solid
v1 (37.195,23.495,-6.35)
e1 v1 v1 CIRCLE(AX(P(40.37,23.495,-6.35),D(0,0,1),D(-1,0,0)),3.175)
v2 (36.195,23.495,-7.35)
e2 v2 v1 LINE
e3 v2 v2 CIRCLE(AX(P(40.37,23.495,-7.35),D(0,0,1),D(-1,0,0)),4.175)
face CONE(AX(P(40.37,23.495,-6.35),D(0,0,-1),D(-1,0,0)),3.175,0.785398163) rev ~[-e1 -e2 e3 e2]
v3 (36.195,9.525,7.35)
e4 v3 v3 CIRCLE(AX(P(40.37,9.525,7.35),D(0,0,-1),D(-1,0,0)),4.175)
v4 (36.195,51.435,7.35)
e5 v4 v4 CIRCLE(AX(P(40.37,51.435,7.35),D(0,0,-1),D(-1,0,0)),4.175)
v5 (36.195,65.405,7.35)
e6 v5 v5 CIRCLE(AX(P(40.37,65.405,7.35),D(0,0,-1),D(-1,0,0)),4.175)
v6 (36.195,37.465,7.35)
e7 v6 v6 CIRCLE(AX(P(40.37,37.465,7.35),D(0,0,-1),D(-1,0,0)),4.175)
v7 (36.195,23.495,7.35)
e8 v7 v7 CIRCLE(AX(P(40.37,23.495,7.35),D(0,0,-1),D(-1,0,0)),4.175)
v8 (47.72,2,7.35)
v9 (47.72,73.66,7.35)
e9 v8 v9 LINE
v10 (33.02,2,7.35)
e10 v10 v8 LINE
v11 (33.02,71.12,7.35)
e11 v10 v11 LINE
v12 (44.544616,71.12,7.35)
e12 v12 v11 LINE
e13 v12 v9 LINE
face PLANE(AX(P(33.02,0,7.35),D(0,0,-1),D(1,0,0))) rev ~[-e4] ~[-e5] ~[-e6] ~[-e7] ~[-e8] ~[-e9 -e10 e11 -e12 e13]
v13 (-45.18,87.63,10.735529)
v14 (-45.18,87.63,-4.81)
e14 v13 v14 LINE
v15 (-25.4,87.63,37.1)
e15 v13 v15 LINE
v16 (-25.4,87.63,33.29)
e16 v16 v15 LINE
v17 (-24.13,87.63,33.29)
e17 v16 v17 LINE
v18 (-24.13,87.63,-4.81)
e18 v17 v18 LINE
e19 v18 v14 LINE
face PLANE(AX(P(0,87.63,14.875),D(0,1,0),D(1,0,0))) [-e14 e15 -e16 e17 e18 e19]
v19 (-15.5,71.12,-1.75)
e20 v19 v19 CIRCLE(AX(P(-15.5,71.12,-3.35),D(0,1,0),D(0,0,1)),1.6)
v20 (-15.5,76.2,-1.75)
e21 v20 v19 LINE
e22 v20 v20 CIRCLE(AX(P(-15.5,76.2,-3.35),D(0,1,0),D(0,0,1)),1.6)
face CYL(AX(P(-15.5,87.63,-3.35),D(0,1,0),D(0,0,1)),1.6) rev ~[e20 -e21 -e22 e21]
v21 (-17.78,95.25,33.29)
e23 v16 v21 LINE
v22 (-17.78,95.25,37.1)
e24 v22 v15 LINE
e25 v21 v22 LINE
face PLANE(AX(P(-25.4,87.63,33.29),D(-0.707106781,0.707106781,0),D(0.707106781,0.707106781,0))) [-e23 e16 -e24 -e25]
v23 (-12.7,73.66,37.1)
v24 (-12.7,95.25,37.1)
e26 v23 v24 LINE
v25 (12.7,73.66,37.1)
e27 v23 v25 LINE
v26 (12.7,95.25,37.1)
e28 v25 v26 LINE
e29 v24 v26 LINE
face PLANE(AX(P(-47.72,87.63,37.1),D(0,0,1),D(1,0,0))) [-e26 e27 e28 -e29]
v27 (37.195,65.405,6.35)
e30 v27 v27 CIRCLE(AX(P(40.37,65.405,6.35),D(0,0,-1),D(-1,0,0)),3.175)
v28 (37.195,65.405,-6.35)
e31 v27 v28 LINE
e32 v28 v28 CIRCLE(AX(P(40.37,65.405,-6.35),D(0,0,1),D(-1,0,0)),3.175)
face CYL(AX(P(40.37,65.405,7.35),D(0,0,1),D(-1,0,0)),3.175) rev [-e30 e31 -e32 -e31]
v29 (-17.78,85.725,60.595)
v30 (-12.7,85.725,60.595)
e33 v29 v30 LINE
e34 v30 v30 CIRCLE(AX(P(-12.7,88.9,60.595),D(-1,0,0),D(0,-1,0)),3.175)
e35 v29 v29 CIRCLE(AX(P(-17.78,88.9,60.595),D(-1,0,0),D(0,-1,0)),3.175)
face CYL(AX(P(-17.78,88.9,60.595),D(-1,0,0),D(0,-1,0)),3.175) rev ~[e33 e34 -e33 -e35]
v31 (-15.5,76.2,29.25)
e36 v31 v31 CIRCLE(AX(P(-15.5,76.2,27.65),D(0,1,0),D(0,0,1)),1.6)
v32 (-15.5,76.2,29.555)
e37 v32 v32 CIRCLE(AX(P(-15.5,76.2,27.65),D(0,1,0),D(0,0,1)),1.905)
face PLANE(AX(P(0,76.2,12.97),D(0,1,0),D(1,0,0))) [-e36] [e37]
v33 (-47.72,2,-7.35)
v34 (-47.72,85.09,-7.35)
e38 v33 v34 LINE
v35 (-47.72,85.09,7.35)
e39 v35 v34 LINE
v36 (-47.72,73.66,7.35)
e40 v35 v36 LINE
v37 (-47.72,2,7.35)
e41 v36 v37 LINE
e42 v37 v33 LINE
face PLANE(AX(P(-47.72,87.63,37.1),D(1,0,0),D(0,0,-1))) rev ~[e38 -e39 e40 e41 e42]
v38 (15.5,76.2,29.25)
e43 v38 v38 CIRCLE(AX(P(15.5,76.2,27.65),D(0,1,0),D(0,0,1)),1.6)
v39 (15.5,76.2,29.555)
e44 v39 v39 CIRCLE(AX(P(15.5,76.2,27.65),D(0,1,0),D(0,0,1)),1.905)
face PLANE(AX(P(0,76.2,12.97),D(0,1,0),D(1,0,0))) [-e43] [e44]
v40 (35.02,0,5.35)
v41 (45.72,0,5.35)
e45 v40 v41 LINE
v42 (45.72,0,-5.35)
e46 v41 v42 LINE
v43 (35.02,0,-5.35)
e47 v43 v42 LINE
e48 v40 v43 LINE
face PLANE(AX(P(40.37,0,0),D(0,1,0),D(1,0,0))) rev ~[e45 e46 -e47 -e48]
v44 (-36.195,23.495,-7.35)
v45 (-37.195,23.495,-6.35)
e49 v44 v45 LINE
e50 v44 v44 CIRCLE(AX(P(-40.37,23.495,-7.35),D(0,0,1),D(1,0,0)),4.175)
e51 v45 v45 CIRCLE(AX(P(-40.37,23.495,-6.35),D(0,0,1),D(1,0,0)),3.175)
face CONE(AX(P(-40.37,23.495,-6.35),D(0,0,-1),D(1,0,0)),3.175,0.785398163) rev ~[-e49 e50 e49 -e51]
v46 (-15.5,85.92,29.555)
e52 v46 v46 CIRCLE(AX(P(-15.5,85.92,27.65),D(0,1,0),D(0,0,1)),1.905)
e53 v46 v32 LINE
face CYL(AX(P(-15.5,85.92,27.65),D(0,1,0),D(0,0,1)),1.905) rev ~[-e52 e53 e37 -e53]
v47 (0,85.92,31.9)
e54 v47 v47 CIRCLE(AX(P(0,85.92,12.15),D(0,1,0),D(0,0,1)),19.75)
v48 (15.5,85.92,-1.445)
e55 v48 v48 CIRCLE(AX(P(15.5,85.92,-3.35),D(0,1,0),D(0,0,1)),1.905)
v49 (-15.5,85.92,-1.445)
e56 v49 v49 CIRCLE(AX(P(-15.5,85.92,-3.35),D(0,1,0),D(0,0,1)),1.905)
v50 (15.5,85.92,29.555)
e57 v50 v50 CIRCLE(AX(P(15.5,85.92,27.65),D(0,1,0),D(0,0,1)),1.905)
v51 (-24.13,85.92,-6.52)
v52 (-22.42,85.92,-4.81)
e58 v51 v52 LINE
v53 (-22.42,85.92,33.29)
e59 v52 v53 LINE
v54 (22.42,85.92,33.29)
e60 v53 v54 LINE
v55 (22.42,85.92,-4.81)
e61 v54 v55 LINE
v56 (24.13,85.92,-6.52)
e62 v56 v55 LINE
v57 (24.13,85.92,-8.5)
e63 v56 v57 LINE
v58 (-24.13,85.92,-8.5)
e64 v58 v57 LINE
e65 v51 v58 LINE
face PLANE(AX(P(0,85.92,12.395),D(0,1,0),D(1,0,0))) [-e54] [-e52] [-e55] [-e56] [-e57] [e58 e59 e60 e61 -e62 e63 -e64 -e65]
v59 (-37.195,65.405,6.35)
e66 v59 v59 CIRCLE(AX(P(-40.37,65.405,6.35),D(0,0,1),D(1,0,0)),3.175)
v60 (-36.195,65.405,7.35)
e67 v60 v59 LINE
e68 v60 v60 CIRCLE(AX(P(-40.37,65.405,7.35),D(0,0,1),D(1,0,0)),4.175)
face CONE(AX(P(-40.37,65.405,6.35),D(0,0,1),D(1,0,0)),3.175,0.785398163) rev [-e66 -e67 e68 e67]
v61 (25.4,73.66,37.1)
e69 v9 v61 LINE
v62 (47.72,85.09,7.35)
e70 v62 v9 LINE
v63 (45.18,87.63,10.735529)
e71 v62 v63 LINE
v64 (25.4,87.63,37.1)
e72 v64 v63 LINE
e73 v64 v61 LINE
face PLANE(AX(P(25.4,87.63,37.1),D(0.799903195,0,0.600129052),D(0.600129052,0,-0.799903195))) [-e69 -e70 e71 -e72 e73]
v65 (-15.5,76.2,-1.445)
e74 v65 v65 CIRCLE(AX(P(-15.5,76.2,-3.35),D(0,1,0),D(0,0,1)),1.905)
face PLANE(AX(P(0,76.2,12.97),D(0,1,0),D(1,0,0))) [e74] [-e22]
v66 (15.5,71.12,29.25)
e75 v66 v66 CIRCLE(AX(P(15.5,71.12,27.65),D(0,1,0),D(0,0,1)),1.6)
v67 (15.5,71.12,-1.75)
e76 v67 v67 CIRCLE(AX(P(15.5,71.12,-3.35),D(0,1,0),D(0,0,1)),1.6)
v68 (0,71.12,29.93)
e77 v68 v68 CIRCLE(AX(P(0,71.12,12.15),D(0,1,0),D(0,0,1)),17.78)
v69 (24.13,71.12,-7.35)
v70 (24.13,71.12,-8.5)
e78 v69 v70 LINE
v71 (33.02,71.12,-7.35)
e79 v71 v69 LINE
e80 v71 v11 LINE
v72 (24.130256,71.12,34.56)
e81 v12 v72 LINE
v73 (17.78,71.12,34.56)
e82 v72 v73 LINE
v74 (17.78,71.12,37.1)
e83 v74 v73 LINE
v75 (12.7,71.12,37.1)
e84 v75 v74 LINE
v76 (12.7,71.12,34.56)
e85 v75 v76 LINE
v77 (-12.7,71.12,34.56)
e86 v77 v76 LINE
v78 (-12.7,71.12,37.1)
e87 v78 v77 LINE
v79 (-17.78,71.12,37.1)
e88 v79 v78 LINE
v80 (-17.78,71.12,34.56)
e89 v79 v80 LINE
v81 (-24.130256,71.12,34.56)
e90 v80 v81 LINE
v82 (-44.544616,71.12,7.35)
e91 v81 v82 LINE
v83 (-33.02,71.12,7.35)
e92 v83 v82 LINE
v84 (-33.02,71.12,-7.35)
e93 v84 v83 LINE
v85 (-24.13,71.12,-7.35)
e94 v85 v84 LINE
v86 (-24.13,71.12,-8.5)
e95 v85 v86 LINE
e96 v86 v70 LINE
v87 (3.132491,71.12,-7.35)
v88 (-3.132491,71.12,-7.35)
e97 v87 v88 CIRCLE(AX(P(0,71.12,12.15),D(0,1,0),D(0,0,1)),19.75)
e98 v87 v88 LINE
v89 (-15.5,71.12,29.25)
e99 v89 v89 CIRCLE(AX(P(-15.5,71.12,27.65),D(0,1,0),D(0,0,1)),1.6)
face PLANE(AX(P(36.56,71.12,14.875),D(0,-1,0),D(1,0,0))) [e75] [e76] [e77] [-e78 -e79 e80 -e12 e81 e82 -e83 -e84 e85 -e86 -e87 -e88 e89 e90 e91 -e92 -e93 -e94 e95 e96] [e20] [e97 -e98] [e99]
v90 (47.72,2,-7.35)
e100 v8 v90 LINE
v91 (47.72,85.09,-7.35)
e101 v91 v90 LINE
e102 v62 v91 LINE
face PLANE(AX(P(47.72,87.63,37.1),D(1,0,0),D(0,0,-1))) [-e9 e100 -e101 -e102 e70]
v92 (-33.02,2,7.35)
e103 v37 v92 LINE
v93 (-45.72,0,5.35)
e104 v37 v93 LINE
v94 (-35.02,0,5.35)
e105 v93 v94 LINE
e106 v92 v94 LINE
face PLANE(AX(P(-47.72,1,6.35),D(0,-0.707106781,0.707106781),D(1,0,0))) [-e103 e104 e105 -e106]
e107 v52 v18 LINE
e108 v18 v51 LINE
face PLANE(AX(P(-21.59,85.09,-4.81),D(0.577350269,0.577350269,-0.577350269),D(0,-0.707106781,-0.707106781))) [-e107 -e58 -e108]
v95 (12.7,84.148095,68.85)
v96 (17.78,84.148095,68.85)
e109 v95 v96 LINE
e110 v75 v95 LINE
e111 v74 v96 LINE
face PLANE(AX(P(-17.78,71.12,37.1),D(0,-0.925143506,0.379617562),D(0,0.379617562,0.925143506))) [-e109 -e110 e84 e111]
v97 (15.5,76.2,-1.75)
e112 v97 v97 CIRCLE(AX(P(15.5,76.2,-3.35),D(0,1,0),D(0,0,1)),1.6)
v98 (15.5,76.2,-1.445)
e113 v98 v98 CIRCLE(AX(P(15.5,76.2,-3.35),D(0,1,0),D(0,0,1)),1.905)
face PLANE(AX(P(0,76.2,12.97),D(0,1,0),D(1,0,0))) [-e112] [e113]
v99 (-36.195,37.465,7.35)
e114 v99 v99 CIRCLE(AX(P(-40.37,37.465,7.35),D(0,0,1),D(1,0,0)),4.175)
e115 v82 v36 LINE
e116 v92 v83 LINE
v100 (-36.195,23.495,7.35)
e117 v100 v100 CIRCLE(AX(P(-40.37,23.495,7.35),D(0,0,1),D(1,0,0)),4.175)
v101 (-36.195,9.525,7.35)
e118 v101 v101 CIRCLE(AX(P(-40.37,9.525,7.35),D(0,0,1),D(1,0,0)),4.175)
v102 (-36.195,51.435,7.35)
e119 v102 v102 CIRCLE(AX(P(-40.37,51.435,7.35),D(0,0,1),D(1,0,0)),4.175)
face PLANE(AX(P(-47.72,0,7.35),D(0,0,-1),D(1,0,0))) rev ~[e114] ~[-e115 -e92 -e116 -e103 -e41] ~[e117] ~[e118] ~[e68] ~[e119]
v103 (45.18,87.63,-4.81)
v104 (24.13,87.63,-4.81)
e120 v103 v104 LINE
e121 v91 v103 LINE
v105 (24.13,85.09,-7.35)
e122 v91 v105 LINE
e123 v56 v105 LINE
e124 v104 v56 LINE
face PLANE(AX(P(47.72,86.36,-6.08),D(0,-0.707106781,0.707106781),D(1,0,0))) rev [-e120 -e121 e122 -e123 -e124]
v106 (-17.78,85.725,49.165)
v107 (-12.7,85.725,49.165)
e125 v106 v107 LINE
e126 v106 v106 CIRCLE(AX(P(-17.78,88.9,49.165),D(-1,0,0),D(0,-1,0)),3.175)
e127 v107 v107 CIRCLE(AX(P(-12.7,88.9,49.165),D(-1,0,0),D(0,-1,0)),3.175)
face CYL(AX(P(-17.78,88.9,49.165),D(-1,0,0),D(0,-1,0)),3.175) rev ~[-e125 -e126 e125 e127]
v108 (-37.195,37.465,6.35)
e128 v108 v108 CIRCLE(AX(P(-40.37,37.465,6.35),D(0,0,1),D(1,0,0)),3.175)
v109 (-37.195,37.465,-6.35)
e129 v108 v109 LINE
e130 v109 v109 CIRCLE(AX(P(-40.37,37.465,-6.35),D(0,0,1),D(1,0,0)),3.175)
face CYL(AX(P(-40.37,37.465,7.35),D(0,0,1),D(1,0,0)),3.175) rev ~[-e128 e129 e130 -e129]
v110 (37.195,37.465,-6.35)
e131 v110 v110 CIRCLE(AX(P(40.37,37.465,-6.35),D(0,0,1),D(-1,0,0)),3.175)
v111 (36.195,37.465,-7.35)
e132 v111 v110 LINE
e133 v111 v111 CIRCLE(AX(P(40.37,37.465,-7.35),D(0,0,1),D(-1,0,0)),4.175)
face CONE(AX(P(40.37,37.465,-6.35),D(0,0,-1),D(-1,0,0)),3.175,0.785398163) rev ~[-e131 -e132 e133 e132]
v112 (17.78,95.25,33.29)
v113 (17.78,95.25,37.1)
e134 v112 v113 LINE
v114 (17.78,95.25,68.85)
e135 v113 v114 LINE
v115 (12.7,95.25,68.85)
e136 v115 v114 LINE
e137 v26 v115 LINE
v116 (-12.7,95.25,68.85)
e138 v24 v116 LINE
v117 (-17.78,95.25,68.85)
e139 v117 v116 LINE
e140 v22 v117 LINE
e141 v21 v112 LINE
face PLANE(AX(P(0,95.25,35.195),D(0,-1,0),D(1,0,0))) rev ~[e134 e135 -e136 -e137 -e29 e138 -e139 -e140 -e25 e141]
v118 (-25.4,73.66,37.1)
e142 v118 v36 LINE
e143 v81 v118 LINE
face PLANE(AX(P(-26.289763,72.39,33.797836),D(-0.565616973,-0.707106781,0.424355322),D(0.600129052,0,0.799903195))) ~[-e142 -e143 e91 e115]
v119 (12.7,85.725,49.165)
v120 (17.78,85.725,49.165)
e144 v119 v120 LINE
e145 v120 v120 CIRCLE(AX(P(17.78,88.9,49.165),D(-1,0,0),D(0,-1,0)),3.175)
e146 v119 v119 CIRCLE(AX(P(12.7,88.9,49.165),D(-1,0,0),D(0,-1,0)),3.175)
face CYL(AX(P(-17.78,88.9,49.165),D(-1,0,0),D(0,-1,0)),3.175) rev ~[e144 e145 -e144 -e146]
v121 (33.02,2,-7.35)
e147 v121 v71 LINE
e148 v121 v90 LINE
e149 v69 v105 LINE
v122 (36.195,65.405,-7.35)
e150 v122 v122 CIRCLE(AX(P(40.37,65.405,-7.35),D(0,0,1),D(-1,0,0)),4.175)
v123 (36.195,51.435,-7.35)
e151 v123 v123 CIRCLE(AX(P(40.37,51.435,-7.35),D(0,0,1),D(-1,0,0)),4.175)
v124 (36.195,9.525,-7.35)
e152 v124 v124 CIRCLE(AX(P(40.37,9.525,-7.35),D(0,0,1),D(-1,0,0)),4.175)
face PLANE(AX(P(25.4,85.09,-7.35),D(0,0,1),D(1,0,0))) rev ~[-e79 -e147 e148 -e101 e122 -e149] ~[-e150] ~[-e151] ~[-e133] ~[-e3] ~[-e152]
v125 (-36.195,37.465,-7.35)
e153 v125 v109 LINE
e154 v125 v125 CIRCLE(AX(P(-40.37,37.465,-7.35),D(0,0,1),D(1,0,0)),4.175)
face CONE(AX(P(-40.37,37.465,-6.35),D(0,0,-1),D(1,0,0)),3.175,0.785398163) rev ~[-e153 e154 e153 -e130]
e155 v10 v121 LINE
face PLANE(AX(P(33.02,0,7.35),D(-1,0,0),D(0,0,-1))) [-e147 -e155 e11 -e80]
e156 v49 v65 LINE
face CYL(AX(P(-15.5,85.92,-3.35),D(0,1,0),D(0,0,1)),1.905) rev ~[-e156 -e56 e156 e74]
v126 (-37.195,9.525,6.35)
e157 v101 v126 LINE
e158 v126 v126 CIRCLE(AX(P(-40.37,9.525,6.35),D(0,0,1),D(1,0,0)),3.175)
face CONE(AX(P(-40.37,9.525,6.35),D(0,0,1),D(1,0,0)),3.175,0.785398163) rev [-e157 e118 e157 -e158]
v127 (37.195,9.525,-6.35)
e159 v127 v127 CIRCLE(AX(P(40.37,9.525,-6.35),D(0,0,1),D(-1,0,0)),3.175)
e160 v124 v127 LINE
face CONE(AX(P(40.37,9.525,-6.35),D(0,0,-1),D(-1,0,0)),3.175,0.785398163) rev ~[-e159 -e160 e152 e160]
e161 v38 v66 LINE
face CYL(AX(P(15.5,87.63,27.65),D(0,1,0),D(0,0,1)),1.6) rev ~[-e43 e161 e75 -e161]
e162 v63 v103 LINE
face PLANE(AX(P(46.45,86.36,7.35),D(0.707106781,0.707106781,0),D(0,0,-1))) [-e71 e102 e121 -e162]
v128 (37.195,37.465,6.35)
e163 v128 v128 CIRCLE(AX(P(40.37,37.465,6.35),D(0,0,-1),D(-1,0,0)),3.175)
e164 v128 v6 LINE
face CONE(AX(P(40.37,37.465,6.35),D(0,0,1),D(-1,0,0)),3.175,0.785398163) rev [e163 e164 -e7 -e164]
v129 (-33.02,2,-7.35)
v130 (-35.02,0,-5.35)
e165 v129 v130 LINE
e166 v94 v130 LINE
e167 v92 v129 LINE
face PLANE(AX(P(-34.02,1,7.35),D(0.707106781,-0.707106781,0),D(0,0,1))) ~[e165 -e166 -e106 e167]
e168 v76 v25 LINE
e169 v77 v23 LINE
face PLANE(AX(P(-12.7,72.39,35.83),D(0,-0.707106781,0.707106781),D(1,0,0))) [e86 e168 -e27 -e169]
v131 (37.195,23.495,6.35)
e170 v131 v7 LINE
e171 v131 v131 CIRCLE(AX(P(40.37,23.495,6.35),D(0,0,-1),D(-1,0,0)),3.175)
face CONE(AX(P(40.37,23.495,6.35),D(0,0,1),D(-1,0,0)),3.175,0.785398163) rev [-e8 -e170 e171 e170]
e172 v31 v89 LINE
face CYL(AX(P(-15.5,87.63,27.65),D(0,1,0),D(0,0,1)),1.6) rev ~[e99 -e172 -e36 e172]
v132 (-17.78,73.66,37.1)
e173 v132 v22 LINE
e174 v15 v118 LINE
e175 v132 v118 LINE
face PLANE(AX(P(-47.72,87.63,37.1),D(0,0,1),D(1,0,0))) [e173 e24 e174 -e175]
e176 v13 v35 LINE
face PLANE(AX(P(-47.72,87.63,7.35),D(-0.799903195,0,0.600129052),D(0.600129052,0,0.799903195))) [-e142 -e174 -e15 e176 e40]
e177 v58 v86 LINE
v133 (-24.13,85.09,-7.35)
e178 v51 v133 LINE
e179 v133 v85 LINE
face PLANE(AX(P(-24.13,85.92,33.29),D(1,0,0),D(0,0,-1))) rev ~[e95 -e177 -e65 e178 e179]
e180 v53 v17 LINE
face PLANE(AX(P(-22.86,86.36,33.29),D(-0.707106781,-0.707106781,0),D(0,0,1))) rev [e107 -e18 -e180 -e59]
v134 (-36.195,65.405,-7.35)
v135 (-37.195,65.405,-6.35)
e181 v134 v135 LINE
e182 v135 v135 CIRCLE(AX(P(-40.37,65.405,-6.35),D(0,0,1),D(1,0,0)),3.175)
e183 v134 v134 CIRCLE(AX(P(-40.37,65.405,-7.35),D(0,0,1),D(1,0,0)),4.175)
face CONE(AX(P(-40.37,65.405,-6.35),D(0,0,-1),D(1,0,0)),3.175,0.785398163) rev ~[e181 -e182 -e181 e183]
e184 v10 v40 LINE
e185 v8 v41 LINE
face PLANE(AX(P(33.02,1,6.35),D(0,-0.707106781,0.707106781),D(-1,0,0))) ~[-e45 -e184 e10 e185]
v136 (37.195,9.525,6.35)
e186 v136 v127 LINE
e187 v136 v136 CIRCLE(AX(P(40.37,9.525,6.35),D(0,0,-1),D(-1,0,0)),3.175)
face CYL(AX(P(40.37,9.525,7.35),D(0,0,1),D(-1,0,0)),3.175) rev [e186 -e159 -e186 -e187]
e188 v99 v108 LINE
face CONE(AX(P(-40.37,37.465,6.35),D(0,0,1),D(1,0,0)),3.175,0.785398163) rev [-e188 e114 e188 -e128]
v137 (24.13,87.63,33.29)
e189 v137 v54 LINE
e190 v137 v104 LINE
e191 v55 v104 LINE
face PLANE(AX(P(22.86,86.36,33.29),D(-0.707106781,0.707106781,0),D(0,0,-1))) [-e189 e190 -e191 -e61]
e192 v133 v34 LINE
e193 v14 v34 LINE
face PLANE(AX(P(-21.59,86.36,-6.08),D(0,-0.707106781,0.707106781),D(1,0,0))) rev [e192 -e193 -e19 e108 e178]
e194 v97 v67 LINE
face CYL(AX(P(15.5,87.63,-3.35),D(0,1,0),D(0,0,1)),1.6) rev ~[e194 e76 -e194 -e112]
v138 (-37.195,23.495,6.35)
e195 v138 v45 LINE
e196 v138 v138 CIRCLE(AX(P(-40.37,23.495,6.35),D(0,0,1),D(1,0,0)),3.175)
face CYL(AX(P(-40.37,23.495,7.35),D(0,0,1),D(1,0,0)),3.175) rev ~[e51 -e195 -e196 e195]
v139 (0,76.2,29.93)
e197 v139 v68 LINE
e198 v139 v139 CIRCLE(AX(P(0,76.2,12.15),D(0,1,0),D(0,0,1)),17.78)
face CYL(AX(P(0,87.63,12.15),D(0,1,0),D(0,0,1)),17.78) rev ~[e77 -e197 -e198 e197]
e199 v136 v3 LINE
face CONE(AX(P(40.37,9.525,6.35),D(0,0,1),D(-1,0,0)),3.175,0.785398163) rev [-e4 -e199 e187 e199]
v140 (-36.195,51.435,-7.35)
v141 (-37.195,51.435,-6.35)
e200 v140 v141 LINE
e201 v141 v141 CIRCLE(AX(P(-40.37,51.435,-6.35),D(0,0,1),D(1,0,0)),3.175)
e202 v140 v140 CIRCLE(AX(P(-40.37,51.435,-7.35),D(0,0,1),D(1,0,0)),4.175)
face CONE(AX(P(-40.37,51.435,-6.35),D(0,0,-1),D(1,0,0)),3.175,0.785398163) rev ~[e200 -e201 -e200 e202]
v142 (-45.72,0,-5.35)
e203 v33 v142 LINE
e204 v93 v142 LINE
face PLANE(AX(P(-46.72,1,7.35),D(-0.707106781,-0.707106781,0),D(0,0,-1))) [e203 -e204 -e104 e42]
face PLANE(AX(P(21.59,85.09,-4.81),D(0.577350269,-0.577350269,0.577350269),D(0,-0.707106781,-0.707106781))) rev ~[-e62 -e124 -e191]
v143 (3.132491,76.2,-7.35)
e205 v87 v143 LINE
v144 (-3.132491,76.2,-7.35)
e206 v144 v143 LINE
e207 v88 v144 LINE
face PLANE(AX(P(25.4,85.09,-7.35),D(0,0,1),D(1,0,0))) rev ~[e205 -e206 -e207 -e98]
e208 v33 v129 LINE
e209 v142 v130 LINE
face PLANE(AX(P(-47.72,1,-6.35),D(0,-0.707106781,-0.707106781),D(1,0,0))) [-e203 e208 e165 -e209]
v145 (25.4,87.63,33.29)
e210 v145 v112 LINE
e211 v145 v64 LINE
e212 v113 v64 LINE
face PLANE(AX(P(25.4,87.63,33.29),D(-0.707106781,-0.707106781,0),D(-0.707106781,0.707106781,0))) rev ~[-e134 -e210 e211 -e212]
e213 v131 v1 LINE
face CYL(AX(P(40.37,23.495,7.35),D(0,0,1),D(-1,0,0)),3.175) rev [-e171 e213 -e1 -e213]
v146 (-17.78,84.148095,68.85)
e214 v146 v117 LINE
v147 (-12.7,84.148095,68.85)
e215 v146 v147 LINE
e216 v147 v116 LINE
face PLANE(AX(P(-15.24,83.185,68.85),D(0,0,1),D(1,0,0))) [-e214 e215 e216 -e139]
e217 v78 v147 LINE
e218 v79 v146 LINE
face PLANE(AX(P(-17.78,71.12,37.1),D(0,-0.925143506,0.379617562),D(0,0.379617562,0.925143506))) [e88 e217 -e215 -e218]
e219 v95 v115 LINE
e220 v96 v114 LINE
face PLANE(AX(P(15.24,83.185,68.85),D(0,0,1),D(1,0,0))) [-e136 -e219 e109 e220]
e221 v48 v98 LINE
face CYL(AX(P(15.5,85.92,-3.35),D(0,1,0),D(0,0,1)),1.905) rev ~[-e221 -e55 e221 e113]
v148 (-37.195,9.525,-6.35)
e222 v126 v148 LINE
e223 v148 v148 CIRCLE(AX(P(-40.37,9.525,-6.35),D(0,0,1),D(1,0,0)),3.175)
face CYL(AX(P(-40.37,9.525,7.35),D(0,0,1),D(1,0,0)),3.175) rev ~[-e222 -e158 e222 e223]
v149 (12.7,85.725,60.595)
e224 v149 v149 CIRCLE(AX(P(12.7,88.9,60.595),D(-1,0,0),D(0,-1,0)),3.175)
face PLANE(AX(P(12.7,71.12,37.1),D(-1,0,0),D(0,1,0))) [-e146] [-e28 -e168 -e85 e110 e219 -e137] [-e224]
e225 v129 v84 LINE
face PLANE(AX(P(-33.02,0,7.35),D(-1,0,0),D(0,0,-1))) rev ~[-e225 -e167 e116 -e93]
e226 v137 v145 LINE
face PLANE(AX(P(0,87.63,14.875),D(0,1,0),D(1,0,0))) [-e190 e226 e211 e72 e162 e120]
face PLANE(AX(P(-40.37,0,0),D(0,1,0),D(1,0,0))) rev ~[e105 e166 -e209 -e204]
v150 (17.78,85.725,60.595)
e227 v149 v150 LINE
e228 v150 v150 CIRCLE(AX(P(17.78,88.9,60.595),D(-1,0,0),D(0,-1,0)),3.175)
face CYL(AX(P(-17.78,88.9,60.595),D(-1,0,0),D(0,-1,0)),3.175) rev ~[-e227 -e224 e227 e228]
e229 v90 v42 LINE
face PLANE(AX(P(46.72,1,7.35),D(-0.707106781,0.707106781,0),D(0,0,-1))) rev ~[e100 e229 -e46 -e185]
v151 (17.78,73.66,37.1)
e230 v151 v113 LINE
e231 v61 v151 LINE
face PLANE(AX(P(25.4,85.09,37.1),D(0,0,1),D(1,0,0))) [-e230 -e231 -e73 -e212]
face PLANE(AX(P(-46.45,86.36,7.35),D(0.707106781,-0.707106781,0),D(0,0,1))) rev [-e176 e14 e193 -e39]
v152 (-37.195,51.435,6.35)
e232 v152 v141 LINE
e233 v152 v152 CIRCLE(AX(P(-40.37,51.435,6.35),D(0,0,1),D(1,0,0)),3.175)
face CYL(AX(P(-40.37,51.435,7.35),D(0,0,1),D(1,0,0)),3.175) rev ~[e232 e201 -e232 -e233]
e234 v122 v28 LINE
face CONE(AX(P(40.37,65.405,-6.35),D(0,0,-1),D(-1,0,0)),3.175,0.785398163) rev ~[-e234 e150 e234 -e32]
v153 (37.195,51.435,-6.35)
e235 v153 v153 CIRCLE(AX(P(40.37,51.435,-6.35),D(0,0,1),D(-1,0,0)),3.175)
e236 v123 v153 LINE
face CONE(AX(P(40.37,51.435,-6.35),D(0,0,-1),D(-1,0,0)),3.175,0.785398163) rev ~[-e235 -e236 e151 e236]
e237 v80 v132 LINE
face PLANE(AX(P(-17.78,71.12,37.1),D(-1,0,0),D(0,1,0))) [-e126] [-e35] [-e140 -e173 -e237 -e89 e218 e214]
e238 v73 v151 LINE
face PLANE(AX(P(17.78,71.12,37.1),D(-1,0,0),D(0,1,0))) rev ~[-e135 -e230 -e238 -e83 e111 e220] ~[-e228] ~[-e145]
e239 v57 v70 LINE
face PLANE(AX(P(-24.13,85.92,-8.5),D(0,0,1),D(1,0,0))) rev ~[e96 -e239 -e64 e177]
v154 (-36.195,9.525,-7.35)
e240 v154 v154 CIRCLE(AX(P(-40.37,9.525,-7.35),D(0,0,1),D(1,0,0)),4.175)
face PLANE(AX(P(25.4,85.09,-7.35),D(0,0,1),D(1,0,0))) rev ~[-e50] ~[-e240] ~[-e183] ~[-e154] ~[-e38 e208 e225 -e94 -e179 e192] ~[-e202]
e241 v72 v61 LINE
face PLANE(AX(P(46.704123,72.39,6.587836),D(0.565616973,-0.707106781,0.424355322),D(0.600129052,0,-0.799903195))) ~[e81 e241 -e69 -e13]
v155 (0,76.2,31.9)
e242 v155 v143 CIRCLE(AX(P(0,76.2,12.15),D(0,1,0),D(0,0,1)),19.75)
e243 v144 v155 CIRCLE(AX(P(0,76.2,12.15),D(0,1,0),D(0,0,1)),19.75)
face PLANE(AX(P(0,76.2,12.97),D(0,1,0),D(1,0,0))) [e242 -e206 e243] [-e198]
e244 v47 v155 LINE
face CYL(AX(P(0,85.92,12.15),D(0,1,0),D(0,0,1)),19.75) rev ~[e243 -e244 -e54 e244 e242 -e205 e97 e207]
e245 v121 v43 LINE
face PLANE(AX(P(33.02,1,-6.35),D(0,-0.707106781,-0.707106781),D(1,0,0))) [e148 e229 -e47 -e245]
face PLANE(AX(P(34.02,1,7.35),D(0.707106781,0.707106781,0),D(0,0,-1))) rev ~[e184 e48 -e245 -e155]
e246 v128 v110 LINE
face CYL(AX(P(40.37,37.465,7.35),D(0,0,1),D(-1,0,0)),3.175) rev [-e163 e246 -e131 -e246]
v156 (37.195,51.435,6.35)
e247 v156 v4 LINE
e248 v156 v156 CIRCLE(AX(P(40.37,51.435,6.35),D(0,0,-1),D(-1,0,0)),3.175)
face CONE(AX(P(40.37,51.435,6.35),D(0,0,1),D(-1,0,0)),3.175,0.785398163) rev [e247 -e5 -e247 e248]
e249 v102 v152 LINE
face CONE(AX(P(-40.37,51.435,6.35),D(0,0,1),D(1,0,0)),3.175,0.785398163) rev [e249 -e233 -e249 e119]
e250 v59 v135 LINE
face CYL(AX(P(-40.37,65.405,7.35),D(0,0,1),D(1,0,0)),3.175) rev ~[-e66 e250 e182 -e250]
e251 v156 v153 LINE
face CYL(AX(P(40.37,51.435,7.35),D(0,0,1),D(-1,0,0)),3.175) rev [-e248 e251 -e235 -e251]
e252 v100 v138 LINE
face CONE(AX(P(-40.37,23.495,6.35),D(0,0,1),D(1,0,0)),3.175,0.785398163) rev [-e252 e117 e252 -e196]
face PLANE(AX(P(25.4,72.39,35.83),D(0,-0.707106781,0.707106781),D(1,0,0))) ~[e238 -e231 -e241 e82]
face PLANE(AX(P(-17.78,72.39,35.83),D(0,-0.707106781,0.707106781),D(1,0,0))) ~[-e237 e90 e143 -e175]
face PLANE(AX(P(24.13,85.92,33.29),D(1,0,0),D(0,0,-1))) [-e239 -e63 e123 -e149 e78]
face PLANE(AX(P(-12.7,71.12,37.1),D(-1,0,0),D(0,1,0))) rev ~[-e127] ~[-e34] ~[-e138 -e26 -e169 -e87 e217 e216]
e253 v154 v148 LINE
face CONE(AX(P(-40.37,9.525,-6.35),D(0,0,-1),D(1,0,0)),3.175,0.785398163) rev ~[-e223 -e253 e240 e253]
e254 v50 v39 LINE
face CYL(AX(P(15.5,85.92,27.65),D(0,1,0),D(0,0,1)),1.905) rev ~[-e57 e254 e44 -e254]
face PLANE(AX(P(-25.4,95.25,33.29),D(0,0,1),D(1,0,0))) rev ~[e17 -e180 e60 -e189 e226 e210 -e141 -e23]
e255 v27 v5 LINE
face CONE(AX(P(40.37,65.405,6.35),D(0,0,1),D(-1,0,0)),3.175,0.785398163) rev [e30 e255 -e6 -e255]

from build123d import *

# Parameters (mm, degrees)
SKETCH1_W                      = 14.7
SKETCH1_H                      = 14.7
BOSS_EXTRUDE1_DEPTH            = 87.63
BOSS_EXTRUDE1_2_DEPTH          = 87.63
SKETCH2_W                      = 95.44
SKETCH2_H                      = 44.45
BOSS_EXTRUDE2_DEPTH            = 2.54
CHAMFER2_SIZE                  = 2
SKETCH12_W                     = 50.8
SKETCH12_H                     = 44.45
BOSS_EXTRUDE5_DEPTH            = 13.97
SKETCH3_R                      = 17.78
SKETCH3_R_2                    = 1.6
CUT_EXTRUDE1_DEPTH             = 107.454804025
BOSS_EXTRUDE3_DEPTH            = 5.08
BOSS_EXTRUDE3_DEPTH_BACK       = 10.16
SKETCH4_W                      = 50.8
SKETCH4_H                      = 3.81
SKETCH5_W                      = 5.08
SKETCH5_H                      = 24.13
BOSS_EXTRUDE4_DEPTH            = 31.75
SKETCH6_R                      = 3.175
TRAYSUPPORTMOUNTINGHOLES_DEPTH = 135.547891102
SKETCH11_R                     = 3.175
CUT_EXTRUDE5_DEPTH             = 124.012238822
CHAMFER4_SIZE                  = 1
CUT_EXTRUDE6_START             = -11.43
SKETCH13_W                     = 43.18
SKETCH13_H                     = 40.64
CUT_EXTRUDE6_DEPTH             = 11.43
SKETCH15_W                     = 22.32
SKETCH15_H                     = 44.45
BOSS_EXTRUDE6_DEPTH            = 13.97
CUT_EXTRUDE7_DEPTH             = 135.547891102
CUT_EXTRUDE8_DEPTH             = 122.229277817
CUT_EXTRUDE9_DEPTH             = 115.023552392
CHAMFER5_SIZE                  = 2.54
CHAMFER6_SIZE                  = 2.54
SKETCH22_W                     = 48.26
SKETCH22_H                     = 41.79
SKETCH22_R                     = 1.905
SKETCH22_R_2                   = 19.75
BOSS_EXTRUDE7_DEPTH            = 14.8


with BuildPart() as part:
    # Sketch1 → Boss-Extrude1 (new body)
    with BuildSketch(Plane(origin=(0, 0, 0), x_dir=(1, 0, 0), z_dir=(0, 1, 0))):
        with Locations((40.37, 0)):
            Rectangle(SKETCH1_W, SKETCH1_H)
    extrude(amount=BOSS_EXTRUDE1_DEPTH)



with BuildPart() as body_2:
    # Sketch1 → Boss-Extrude1 2 (new body)
    with BuildSketch(Plane(origin=(0, 0, 0), x_dir=(1, 0, 0), z_dir=(0, 1, 0))):
        with Locations((-40.37, 0)):
            Rectangle(SKETCH1_W, SKETCH1_H)
    extrude(amount=BOSS_EXTRUDE1_2_DEPTH)


with BuildPart() as part_1:
    add(part.part)

    add(body_2.part)  # Boss-Extrude2 merges body 2
    # Sketch2 → Boss-Extrude2 (add)
    with BuildSketch(Plane(origin=(0, 87.63, 0), x_dir=(1, 0, 0), z_dir=(0, 1, 0))):
        with Locations((0, -14.875)):
            Rectangle(SKETCH2_W, SKETCH2_H)
    extrude(amount=-BOSS_EXTRUDE2_DEPTH)

    # Chamfer2
    chamfer2_edges = [part_1.edges().sort_by_distance(p)[0] for p in [
        (-47.72, 0, 0),
        (-33.02, 0, 0),
        (-40.37, 0, 7.35),
        (-40.37, 0, -7.35),
        (40.37, 0, -7.35),
        (47.72, 0, 0),
        (40.37, 0, 7.35),
        (33.02, 0, 0),
    ]]
    chamfer(chamfer2_edges, length=CHAMFER2_SIZE)

    # Sketch12 → Boss-Extrude5 (add)
    with BuildSketch(Plane.XZ.offset(-85.09)):
        with Locations((0, 14.875)):
            Rectangle(SKETCH12_W, SKETCH12_H)
    extrude(amount=BOSS_EXTRUDE5_DEPTH)

    # Sketch3 → Cut-Extrude1 (cut, through all)
    with BuildSketch(Plane(origin=(0, 87.63, 0), x_dir=(1, 0, 0), z_dir=(0, 1, 0))):
        with Locations(Location((0, -12.15, 0), (0, 0, 270))):
            Circle(SKETCH3_R)
        with Locations(Location((-15.5, 3.35, 0), (0, 0, 270))):
            Circle(SKETCH3_R_2)
        with Locations(Location((-15.5, -27.65, 0), (0, 0, 270))):
            Circle(SKETCH3_R_2)
        with Locations(Location((15.5, -27.65, 0), (0, 0, 270))):
            Circle(SKETCH3_R_2)
        with Locations(Location((15.5, 3.35, 0), (0, 0, 270))):
            Circle(SKETCH3_R_2)
    extrude(amount=-CUT_EXTRUDE1_DEPTH, mode=Mode.SUBTRACT)

    # Sketch4 → Boss-Extrude3 (add, two sides: drawn at the far end of the back side and taken through both)
    with BuildSketch(Plane.XZ.offset(-85.09).offset(-BOSS_EXTRUDE3_DEPTH_BACK)):
        with Locations((0, 35.195)):
            Rectangle(SKETCH4_W, SKETCH4_H)
    extrude(amount=BOSS_EXTRUDE3_DEPTH + BOSS_EXTRUDE3_DEPTH_BACK)

    # Sketch5 → Boss-Extrude4 (add)
    with BuildSketch(Plane.XY.offset(37.1)):
        with Locations((-15.24, 83.185)):
            Rectangle(SKETCH5_W, SKETCH5_H)
        with Locations((15.24, 83.185)):
            Rectangle(SKETCH5_W, SKETCH5_H)
    extrude(amount=BOSS_EXTRUDE4_DEPTH)

    # Sketch6 → TraySupportMountingHoles (cut, through all)
    with BuildSketch(Plane.ZY.offset(17.78)):
        with Locations(Location((49.165, 88.9, 0), (0, 0, 270))):
            Circle(SKETCH6_R)
        with Locations(Location((60.595, 88.9, 0), (0, 0, 270))):
            Circle(SKETCH6_R)
    extrude(amount=-TRAYSUPPORTMOUNTINGHOLES_DEPTH, mode=Mode.SUBTRACT)

    # Sketch11 → Cut-Extrude5 (cut, through all)
    with BuildSketch(Plane.XY.offset(7.35)):
        with Locations((-40.37, 65.405)):
            Circle(SKETCH11_R)
        with Locations((-40.37, 51.435)):
            Circle(SKETCH11_R)
        with Locations((-40.37, 37.465)):
            Circle(SKETCH11_R)
        with Locations((-40.37, 23.495)):
            Circle(SKETCH11_R)
        with Locations((-40.37, 9.525)):
            Circle(SKETCH11_R)
    cut_extrude5 = extrude(amount=-CUT_EXTRUDE5_DEPTH, mode=Mode.SUBTRACT)

    # Mirror1: Cut-Extrude5 across plane
    add(cut_extrude5.mirror(Plane(origin=(0, 0, 0), x_dir=(0, 0, 1), z_dir=(1, 0, 0))), mode=Mode.SUBTRACT)

    # Chamfer4
    chamfer4_edges = [part_1.edges().sort_by_distance(p)[0] for p in [
        (-43.545, 65.405, -7.35),
        (-43.545, 65.405, 7.35),
        (-43.545, 23.495, -7.35),
        (-43.545, 23.495, 7.35),
        (-43.545, 37.465, -7.35),
        (-43.545, 37.465, 7.35),
        (-43.545, 51.435, -7.35),
        (-43.545, 51.435, 7.35),
        (-43.545, 9.525, -7.35),
        (-43.545, 9.525, 7.35),
        (43.545, 65.405, 7.35),
        (43.545, 65.405, -7.35),
        (43.545, 23.495, 7.35),
        (43.545, 23.495, -7.35),
        (43.545, 37.465, 7.35),
        (43.545, 37.465, -7.35),
        (43.545, 51.435, 7.35),
        (43.545, 51.435, -7.35),
        (43.545, 9.525, 7.35),
        (43.545, 9.525, -7.35),
    ]]
    chamfer(chamfer4_edges, length=CHAMFER4_SIZE)

    # Sketch13 → Cut-Extrude6 (cut)
    with BuildSketch(Plane(origin=(0, 87.63, 0), x_dir=(1, 0, 0), z_dir=(0, 1, 0)).offset(CUT_EXTRUDE6_START)):
        with Locations((0, -12.97)):
            Rectangle(SKETCH13_W, SKETCH13_H)
    extrude(amount=CUT_EXTRUDE6_DEPTH, mode=Mode.SUBTRACT)

    # Sketch15 → Boss-Extrude6 (add)
    with BuildSketch(Plane.XZ.offset(-85.09)):
        with Locations((36.56, 14.875)):
            Rectangle(SKETCH15_W, SKETCH15_H)
        with Locations((-36.56, 14.875)):
            Rectangle(SKETCH15_W, SKETCH15_H)
    extrude(amount=BOSS_EXTRUDE6_DEPTH)

    # Sketch17 → Cut-Extrude7 (cut, through all)
    with BuildSketch(Plane.ZY.offset(17.78)):
        Polygon((37.1, 71.12), (68.85, 84.148095119), (68.85, 71.12), align=None)
    extrude(amount=-CUT_EXTRUDE7_DEPTH, mode=Mode.SUBTRACT)

    # Sketch20 → Cut-Extrude8 (cut, through all)
    with BuildSketch(Plane(origin=(0, 87.63, 0), x_dir=(-1, 0, 0), z_dir=(0, -1, 0))):
        Polygon((-25.4, -37.1), (-47.72, -7.35), (-47.72, -37.1), align=None)
        Polygon((47.72, -7.35), (25.4, -37.1), (47.72, -37.1), align=None)
    extrude(amount=CUT_EXTRUDE8_DEPTH, mode=Mode.SUBTRACT)

    # Sketch21 → Cut-Extrude9 (cut, through all)
    with BuildSketch(Plane(origin=(0, 0, 33.29), x_dir=(-1, 0, 0), z_dir=(0, 0, -1))):
        Polygon((-25.4, 87.63), (-17.78, 95.25), (-25.4, 95.25), align=None)
        Polygon((25.4, 87.63), (17.78, 95.25), (25.4, 95.25), align=None)
    extrude(amount=-CUT_EXTRUDE9_DEPTH, mode=Mode.SUBTRACT)

    # Chamfer5
    chamfer5_edges = [part_1.edges().sort_by_distance(p)[0] for p in [
        (0, 71.12, 37.1),
        (-21.59, 71.12, 37.1),
        (34.655, 87.63, -7.35),
        (-47.72, 87.63, 0),
        (-34.655, 87.63, -7.35),
        (-21.59, 87.63, 12.97),
        (21.59, 87.63, 12.97),
        (-21.59, 81.915, -7.35),
        (21.59, 81.915, -7.35),
        (21.59, 71.12, 37.1),
        (47.72, 87.63, 0),
    ]]
    chamfer(chamfer5_edges, length=CHAMFER5_SIZE)

    # Chamfer6
    chamfer6_edges = [part_1.edges().sort_by_distance(p)[0] for p in [
        (37.512820168, 71.12, 20.955),
        (-37.512820168, 71.12, 20.955),
    ]]
    chamfer(chamfer6_edges, length=CHAMFER6_SIZE)

    # Sketch22 → Boss-Extrude7 (add)
    with BuildSketch(Plane(origin=(0, 85.92, 0), x_dir=(1, 0, 0), z_dir=(0, 1, 0))):
        with Locations((0, -12.395)):
            Rectangle(SKETCH22_W, SKETCH22_H)
        with Locations(Location((-15.5, 3.35, 0), (0, 0, 270))):
            Circle(SKETCH22_R, mode=Mode.SUBTRACT)
        with Locations(Location((15.5, 3.35, 0), (0, 0, 270))):
            Circle(SKETCH22_R, mode=Mode.SUBTRACT)
        with Locations(Location((15.5, -27.65, 0), (0, 0, 270))):
            Circle(SKETCH22_R, mode=Mode.SUBTRACT)
        with Locations(Location((-15.5, -27.65, 0), (0, 0, 270))):
            Circle(SKETCH22_R, mode=Mode.SUBTRACT)
        with Locations(Location((0, -12.15, 0), (0, 0, 270))):
            Circle(SKETCH22_R_2, mode=Mode.SUBTRACT)
    extrude(amount=-BOSS_EXTRUDE7_DEPTH)


solid = part_1.part
